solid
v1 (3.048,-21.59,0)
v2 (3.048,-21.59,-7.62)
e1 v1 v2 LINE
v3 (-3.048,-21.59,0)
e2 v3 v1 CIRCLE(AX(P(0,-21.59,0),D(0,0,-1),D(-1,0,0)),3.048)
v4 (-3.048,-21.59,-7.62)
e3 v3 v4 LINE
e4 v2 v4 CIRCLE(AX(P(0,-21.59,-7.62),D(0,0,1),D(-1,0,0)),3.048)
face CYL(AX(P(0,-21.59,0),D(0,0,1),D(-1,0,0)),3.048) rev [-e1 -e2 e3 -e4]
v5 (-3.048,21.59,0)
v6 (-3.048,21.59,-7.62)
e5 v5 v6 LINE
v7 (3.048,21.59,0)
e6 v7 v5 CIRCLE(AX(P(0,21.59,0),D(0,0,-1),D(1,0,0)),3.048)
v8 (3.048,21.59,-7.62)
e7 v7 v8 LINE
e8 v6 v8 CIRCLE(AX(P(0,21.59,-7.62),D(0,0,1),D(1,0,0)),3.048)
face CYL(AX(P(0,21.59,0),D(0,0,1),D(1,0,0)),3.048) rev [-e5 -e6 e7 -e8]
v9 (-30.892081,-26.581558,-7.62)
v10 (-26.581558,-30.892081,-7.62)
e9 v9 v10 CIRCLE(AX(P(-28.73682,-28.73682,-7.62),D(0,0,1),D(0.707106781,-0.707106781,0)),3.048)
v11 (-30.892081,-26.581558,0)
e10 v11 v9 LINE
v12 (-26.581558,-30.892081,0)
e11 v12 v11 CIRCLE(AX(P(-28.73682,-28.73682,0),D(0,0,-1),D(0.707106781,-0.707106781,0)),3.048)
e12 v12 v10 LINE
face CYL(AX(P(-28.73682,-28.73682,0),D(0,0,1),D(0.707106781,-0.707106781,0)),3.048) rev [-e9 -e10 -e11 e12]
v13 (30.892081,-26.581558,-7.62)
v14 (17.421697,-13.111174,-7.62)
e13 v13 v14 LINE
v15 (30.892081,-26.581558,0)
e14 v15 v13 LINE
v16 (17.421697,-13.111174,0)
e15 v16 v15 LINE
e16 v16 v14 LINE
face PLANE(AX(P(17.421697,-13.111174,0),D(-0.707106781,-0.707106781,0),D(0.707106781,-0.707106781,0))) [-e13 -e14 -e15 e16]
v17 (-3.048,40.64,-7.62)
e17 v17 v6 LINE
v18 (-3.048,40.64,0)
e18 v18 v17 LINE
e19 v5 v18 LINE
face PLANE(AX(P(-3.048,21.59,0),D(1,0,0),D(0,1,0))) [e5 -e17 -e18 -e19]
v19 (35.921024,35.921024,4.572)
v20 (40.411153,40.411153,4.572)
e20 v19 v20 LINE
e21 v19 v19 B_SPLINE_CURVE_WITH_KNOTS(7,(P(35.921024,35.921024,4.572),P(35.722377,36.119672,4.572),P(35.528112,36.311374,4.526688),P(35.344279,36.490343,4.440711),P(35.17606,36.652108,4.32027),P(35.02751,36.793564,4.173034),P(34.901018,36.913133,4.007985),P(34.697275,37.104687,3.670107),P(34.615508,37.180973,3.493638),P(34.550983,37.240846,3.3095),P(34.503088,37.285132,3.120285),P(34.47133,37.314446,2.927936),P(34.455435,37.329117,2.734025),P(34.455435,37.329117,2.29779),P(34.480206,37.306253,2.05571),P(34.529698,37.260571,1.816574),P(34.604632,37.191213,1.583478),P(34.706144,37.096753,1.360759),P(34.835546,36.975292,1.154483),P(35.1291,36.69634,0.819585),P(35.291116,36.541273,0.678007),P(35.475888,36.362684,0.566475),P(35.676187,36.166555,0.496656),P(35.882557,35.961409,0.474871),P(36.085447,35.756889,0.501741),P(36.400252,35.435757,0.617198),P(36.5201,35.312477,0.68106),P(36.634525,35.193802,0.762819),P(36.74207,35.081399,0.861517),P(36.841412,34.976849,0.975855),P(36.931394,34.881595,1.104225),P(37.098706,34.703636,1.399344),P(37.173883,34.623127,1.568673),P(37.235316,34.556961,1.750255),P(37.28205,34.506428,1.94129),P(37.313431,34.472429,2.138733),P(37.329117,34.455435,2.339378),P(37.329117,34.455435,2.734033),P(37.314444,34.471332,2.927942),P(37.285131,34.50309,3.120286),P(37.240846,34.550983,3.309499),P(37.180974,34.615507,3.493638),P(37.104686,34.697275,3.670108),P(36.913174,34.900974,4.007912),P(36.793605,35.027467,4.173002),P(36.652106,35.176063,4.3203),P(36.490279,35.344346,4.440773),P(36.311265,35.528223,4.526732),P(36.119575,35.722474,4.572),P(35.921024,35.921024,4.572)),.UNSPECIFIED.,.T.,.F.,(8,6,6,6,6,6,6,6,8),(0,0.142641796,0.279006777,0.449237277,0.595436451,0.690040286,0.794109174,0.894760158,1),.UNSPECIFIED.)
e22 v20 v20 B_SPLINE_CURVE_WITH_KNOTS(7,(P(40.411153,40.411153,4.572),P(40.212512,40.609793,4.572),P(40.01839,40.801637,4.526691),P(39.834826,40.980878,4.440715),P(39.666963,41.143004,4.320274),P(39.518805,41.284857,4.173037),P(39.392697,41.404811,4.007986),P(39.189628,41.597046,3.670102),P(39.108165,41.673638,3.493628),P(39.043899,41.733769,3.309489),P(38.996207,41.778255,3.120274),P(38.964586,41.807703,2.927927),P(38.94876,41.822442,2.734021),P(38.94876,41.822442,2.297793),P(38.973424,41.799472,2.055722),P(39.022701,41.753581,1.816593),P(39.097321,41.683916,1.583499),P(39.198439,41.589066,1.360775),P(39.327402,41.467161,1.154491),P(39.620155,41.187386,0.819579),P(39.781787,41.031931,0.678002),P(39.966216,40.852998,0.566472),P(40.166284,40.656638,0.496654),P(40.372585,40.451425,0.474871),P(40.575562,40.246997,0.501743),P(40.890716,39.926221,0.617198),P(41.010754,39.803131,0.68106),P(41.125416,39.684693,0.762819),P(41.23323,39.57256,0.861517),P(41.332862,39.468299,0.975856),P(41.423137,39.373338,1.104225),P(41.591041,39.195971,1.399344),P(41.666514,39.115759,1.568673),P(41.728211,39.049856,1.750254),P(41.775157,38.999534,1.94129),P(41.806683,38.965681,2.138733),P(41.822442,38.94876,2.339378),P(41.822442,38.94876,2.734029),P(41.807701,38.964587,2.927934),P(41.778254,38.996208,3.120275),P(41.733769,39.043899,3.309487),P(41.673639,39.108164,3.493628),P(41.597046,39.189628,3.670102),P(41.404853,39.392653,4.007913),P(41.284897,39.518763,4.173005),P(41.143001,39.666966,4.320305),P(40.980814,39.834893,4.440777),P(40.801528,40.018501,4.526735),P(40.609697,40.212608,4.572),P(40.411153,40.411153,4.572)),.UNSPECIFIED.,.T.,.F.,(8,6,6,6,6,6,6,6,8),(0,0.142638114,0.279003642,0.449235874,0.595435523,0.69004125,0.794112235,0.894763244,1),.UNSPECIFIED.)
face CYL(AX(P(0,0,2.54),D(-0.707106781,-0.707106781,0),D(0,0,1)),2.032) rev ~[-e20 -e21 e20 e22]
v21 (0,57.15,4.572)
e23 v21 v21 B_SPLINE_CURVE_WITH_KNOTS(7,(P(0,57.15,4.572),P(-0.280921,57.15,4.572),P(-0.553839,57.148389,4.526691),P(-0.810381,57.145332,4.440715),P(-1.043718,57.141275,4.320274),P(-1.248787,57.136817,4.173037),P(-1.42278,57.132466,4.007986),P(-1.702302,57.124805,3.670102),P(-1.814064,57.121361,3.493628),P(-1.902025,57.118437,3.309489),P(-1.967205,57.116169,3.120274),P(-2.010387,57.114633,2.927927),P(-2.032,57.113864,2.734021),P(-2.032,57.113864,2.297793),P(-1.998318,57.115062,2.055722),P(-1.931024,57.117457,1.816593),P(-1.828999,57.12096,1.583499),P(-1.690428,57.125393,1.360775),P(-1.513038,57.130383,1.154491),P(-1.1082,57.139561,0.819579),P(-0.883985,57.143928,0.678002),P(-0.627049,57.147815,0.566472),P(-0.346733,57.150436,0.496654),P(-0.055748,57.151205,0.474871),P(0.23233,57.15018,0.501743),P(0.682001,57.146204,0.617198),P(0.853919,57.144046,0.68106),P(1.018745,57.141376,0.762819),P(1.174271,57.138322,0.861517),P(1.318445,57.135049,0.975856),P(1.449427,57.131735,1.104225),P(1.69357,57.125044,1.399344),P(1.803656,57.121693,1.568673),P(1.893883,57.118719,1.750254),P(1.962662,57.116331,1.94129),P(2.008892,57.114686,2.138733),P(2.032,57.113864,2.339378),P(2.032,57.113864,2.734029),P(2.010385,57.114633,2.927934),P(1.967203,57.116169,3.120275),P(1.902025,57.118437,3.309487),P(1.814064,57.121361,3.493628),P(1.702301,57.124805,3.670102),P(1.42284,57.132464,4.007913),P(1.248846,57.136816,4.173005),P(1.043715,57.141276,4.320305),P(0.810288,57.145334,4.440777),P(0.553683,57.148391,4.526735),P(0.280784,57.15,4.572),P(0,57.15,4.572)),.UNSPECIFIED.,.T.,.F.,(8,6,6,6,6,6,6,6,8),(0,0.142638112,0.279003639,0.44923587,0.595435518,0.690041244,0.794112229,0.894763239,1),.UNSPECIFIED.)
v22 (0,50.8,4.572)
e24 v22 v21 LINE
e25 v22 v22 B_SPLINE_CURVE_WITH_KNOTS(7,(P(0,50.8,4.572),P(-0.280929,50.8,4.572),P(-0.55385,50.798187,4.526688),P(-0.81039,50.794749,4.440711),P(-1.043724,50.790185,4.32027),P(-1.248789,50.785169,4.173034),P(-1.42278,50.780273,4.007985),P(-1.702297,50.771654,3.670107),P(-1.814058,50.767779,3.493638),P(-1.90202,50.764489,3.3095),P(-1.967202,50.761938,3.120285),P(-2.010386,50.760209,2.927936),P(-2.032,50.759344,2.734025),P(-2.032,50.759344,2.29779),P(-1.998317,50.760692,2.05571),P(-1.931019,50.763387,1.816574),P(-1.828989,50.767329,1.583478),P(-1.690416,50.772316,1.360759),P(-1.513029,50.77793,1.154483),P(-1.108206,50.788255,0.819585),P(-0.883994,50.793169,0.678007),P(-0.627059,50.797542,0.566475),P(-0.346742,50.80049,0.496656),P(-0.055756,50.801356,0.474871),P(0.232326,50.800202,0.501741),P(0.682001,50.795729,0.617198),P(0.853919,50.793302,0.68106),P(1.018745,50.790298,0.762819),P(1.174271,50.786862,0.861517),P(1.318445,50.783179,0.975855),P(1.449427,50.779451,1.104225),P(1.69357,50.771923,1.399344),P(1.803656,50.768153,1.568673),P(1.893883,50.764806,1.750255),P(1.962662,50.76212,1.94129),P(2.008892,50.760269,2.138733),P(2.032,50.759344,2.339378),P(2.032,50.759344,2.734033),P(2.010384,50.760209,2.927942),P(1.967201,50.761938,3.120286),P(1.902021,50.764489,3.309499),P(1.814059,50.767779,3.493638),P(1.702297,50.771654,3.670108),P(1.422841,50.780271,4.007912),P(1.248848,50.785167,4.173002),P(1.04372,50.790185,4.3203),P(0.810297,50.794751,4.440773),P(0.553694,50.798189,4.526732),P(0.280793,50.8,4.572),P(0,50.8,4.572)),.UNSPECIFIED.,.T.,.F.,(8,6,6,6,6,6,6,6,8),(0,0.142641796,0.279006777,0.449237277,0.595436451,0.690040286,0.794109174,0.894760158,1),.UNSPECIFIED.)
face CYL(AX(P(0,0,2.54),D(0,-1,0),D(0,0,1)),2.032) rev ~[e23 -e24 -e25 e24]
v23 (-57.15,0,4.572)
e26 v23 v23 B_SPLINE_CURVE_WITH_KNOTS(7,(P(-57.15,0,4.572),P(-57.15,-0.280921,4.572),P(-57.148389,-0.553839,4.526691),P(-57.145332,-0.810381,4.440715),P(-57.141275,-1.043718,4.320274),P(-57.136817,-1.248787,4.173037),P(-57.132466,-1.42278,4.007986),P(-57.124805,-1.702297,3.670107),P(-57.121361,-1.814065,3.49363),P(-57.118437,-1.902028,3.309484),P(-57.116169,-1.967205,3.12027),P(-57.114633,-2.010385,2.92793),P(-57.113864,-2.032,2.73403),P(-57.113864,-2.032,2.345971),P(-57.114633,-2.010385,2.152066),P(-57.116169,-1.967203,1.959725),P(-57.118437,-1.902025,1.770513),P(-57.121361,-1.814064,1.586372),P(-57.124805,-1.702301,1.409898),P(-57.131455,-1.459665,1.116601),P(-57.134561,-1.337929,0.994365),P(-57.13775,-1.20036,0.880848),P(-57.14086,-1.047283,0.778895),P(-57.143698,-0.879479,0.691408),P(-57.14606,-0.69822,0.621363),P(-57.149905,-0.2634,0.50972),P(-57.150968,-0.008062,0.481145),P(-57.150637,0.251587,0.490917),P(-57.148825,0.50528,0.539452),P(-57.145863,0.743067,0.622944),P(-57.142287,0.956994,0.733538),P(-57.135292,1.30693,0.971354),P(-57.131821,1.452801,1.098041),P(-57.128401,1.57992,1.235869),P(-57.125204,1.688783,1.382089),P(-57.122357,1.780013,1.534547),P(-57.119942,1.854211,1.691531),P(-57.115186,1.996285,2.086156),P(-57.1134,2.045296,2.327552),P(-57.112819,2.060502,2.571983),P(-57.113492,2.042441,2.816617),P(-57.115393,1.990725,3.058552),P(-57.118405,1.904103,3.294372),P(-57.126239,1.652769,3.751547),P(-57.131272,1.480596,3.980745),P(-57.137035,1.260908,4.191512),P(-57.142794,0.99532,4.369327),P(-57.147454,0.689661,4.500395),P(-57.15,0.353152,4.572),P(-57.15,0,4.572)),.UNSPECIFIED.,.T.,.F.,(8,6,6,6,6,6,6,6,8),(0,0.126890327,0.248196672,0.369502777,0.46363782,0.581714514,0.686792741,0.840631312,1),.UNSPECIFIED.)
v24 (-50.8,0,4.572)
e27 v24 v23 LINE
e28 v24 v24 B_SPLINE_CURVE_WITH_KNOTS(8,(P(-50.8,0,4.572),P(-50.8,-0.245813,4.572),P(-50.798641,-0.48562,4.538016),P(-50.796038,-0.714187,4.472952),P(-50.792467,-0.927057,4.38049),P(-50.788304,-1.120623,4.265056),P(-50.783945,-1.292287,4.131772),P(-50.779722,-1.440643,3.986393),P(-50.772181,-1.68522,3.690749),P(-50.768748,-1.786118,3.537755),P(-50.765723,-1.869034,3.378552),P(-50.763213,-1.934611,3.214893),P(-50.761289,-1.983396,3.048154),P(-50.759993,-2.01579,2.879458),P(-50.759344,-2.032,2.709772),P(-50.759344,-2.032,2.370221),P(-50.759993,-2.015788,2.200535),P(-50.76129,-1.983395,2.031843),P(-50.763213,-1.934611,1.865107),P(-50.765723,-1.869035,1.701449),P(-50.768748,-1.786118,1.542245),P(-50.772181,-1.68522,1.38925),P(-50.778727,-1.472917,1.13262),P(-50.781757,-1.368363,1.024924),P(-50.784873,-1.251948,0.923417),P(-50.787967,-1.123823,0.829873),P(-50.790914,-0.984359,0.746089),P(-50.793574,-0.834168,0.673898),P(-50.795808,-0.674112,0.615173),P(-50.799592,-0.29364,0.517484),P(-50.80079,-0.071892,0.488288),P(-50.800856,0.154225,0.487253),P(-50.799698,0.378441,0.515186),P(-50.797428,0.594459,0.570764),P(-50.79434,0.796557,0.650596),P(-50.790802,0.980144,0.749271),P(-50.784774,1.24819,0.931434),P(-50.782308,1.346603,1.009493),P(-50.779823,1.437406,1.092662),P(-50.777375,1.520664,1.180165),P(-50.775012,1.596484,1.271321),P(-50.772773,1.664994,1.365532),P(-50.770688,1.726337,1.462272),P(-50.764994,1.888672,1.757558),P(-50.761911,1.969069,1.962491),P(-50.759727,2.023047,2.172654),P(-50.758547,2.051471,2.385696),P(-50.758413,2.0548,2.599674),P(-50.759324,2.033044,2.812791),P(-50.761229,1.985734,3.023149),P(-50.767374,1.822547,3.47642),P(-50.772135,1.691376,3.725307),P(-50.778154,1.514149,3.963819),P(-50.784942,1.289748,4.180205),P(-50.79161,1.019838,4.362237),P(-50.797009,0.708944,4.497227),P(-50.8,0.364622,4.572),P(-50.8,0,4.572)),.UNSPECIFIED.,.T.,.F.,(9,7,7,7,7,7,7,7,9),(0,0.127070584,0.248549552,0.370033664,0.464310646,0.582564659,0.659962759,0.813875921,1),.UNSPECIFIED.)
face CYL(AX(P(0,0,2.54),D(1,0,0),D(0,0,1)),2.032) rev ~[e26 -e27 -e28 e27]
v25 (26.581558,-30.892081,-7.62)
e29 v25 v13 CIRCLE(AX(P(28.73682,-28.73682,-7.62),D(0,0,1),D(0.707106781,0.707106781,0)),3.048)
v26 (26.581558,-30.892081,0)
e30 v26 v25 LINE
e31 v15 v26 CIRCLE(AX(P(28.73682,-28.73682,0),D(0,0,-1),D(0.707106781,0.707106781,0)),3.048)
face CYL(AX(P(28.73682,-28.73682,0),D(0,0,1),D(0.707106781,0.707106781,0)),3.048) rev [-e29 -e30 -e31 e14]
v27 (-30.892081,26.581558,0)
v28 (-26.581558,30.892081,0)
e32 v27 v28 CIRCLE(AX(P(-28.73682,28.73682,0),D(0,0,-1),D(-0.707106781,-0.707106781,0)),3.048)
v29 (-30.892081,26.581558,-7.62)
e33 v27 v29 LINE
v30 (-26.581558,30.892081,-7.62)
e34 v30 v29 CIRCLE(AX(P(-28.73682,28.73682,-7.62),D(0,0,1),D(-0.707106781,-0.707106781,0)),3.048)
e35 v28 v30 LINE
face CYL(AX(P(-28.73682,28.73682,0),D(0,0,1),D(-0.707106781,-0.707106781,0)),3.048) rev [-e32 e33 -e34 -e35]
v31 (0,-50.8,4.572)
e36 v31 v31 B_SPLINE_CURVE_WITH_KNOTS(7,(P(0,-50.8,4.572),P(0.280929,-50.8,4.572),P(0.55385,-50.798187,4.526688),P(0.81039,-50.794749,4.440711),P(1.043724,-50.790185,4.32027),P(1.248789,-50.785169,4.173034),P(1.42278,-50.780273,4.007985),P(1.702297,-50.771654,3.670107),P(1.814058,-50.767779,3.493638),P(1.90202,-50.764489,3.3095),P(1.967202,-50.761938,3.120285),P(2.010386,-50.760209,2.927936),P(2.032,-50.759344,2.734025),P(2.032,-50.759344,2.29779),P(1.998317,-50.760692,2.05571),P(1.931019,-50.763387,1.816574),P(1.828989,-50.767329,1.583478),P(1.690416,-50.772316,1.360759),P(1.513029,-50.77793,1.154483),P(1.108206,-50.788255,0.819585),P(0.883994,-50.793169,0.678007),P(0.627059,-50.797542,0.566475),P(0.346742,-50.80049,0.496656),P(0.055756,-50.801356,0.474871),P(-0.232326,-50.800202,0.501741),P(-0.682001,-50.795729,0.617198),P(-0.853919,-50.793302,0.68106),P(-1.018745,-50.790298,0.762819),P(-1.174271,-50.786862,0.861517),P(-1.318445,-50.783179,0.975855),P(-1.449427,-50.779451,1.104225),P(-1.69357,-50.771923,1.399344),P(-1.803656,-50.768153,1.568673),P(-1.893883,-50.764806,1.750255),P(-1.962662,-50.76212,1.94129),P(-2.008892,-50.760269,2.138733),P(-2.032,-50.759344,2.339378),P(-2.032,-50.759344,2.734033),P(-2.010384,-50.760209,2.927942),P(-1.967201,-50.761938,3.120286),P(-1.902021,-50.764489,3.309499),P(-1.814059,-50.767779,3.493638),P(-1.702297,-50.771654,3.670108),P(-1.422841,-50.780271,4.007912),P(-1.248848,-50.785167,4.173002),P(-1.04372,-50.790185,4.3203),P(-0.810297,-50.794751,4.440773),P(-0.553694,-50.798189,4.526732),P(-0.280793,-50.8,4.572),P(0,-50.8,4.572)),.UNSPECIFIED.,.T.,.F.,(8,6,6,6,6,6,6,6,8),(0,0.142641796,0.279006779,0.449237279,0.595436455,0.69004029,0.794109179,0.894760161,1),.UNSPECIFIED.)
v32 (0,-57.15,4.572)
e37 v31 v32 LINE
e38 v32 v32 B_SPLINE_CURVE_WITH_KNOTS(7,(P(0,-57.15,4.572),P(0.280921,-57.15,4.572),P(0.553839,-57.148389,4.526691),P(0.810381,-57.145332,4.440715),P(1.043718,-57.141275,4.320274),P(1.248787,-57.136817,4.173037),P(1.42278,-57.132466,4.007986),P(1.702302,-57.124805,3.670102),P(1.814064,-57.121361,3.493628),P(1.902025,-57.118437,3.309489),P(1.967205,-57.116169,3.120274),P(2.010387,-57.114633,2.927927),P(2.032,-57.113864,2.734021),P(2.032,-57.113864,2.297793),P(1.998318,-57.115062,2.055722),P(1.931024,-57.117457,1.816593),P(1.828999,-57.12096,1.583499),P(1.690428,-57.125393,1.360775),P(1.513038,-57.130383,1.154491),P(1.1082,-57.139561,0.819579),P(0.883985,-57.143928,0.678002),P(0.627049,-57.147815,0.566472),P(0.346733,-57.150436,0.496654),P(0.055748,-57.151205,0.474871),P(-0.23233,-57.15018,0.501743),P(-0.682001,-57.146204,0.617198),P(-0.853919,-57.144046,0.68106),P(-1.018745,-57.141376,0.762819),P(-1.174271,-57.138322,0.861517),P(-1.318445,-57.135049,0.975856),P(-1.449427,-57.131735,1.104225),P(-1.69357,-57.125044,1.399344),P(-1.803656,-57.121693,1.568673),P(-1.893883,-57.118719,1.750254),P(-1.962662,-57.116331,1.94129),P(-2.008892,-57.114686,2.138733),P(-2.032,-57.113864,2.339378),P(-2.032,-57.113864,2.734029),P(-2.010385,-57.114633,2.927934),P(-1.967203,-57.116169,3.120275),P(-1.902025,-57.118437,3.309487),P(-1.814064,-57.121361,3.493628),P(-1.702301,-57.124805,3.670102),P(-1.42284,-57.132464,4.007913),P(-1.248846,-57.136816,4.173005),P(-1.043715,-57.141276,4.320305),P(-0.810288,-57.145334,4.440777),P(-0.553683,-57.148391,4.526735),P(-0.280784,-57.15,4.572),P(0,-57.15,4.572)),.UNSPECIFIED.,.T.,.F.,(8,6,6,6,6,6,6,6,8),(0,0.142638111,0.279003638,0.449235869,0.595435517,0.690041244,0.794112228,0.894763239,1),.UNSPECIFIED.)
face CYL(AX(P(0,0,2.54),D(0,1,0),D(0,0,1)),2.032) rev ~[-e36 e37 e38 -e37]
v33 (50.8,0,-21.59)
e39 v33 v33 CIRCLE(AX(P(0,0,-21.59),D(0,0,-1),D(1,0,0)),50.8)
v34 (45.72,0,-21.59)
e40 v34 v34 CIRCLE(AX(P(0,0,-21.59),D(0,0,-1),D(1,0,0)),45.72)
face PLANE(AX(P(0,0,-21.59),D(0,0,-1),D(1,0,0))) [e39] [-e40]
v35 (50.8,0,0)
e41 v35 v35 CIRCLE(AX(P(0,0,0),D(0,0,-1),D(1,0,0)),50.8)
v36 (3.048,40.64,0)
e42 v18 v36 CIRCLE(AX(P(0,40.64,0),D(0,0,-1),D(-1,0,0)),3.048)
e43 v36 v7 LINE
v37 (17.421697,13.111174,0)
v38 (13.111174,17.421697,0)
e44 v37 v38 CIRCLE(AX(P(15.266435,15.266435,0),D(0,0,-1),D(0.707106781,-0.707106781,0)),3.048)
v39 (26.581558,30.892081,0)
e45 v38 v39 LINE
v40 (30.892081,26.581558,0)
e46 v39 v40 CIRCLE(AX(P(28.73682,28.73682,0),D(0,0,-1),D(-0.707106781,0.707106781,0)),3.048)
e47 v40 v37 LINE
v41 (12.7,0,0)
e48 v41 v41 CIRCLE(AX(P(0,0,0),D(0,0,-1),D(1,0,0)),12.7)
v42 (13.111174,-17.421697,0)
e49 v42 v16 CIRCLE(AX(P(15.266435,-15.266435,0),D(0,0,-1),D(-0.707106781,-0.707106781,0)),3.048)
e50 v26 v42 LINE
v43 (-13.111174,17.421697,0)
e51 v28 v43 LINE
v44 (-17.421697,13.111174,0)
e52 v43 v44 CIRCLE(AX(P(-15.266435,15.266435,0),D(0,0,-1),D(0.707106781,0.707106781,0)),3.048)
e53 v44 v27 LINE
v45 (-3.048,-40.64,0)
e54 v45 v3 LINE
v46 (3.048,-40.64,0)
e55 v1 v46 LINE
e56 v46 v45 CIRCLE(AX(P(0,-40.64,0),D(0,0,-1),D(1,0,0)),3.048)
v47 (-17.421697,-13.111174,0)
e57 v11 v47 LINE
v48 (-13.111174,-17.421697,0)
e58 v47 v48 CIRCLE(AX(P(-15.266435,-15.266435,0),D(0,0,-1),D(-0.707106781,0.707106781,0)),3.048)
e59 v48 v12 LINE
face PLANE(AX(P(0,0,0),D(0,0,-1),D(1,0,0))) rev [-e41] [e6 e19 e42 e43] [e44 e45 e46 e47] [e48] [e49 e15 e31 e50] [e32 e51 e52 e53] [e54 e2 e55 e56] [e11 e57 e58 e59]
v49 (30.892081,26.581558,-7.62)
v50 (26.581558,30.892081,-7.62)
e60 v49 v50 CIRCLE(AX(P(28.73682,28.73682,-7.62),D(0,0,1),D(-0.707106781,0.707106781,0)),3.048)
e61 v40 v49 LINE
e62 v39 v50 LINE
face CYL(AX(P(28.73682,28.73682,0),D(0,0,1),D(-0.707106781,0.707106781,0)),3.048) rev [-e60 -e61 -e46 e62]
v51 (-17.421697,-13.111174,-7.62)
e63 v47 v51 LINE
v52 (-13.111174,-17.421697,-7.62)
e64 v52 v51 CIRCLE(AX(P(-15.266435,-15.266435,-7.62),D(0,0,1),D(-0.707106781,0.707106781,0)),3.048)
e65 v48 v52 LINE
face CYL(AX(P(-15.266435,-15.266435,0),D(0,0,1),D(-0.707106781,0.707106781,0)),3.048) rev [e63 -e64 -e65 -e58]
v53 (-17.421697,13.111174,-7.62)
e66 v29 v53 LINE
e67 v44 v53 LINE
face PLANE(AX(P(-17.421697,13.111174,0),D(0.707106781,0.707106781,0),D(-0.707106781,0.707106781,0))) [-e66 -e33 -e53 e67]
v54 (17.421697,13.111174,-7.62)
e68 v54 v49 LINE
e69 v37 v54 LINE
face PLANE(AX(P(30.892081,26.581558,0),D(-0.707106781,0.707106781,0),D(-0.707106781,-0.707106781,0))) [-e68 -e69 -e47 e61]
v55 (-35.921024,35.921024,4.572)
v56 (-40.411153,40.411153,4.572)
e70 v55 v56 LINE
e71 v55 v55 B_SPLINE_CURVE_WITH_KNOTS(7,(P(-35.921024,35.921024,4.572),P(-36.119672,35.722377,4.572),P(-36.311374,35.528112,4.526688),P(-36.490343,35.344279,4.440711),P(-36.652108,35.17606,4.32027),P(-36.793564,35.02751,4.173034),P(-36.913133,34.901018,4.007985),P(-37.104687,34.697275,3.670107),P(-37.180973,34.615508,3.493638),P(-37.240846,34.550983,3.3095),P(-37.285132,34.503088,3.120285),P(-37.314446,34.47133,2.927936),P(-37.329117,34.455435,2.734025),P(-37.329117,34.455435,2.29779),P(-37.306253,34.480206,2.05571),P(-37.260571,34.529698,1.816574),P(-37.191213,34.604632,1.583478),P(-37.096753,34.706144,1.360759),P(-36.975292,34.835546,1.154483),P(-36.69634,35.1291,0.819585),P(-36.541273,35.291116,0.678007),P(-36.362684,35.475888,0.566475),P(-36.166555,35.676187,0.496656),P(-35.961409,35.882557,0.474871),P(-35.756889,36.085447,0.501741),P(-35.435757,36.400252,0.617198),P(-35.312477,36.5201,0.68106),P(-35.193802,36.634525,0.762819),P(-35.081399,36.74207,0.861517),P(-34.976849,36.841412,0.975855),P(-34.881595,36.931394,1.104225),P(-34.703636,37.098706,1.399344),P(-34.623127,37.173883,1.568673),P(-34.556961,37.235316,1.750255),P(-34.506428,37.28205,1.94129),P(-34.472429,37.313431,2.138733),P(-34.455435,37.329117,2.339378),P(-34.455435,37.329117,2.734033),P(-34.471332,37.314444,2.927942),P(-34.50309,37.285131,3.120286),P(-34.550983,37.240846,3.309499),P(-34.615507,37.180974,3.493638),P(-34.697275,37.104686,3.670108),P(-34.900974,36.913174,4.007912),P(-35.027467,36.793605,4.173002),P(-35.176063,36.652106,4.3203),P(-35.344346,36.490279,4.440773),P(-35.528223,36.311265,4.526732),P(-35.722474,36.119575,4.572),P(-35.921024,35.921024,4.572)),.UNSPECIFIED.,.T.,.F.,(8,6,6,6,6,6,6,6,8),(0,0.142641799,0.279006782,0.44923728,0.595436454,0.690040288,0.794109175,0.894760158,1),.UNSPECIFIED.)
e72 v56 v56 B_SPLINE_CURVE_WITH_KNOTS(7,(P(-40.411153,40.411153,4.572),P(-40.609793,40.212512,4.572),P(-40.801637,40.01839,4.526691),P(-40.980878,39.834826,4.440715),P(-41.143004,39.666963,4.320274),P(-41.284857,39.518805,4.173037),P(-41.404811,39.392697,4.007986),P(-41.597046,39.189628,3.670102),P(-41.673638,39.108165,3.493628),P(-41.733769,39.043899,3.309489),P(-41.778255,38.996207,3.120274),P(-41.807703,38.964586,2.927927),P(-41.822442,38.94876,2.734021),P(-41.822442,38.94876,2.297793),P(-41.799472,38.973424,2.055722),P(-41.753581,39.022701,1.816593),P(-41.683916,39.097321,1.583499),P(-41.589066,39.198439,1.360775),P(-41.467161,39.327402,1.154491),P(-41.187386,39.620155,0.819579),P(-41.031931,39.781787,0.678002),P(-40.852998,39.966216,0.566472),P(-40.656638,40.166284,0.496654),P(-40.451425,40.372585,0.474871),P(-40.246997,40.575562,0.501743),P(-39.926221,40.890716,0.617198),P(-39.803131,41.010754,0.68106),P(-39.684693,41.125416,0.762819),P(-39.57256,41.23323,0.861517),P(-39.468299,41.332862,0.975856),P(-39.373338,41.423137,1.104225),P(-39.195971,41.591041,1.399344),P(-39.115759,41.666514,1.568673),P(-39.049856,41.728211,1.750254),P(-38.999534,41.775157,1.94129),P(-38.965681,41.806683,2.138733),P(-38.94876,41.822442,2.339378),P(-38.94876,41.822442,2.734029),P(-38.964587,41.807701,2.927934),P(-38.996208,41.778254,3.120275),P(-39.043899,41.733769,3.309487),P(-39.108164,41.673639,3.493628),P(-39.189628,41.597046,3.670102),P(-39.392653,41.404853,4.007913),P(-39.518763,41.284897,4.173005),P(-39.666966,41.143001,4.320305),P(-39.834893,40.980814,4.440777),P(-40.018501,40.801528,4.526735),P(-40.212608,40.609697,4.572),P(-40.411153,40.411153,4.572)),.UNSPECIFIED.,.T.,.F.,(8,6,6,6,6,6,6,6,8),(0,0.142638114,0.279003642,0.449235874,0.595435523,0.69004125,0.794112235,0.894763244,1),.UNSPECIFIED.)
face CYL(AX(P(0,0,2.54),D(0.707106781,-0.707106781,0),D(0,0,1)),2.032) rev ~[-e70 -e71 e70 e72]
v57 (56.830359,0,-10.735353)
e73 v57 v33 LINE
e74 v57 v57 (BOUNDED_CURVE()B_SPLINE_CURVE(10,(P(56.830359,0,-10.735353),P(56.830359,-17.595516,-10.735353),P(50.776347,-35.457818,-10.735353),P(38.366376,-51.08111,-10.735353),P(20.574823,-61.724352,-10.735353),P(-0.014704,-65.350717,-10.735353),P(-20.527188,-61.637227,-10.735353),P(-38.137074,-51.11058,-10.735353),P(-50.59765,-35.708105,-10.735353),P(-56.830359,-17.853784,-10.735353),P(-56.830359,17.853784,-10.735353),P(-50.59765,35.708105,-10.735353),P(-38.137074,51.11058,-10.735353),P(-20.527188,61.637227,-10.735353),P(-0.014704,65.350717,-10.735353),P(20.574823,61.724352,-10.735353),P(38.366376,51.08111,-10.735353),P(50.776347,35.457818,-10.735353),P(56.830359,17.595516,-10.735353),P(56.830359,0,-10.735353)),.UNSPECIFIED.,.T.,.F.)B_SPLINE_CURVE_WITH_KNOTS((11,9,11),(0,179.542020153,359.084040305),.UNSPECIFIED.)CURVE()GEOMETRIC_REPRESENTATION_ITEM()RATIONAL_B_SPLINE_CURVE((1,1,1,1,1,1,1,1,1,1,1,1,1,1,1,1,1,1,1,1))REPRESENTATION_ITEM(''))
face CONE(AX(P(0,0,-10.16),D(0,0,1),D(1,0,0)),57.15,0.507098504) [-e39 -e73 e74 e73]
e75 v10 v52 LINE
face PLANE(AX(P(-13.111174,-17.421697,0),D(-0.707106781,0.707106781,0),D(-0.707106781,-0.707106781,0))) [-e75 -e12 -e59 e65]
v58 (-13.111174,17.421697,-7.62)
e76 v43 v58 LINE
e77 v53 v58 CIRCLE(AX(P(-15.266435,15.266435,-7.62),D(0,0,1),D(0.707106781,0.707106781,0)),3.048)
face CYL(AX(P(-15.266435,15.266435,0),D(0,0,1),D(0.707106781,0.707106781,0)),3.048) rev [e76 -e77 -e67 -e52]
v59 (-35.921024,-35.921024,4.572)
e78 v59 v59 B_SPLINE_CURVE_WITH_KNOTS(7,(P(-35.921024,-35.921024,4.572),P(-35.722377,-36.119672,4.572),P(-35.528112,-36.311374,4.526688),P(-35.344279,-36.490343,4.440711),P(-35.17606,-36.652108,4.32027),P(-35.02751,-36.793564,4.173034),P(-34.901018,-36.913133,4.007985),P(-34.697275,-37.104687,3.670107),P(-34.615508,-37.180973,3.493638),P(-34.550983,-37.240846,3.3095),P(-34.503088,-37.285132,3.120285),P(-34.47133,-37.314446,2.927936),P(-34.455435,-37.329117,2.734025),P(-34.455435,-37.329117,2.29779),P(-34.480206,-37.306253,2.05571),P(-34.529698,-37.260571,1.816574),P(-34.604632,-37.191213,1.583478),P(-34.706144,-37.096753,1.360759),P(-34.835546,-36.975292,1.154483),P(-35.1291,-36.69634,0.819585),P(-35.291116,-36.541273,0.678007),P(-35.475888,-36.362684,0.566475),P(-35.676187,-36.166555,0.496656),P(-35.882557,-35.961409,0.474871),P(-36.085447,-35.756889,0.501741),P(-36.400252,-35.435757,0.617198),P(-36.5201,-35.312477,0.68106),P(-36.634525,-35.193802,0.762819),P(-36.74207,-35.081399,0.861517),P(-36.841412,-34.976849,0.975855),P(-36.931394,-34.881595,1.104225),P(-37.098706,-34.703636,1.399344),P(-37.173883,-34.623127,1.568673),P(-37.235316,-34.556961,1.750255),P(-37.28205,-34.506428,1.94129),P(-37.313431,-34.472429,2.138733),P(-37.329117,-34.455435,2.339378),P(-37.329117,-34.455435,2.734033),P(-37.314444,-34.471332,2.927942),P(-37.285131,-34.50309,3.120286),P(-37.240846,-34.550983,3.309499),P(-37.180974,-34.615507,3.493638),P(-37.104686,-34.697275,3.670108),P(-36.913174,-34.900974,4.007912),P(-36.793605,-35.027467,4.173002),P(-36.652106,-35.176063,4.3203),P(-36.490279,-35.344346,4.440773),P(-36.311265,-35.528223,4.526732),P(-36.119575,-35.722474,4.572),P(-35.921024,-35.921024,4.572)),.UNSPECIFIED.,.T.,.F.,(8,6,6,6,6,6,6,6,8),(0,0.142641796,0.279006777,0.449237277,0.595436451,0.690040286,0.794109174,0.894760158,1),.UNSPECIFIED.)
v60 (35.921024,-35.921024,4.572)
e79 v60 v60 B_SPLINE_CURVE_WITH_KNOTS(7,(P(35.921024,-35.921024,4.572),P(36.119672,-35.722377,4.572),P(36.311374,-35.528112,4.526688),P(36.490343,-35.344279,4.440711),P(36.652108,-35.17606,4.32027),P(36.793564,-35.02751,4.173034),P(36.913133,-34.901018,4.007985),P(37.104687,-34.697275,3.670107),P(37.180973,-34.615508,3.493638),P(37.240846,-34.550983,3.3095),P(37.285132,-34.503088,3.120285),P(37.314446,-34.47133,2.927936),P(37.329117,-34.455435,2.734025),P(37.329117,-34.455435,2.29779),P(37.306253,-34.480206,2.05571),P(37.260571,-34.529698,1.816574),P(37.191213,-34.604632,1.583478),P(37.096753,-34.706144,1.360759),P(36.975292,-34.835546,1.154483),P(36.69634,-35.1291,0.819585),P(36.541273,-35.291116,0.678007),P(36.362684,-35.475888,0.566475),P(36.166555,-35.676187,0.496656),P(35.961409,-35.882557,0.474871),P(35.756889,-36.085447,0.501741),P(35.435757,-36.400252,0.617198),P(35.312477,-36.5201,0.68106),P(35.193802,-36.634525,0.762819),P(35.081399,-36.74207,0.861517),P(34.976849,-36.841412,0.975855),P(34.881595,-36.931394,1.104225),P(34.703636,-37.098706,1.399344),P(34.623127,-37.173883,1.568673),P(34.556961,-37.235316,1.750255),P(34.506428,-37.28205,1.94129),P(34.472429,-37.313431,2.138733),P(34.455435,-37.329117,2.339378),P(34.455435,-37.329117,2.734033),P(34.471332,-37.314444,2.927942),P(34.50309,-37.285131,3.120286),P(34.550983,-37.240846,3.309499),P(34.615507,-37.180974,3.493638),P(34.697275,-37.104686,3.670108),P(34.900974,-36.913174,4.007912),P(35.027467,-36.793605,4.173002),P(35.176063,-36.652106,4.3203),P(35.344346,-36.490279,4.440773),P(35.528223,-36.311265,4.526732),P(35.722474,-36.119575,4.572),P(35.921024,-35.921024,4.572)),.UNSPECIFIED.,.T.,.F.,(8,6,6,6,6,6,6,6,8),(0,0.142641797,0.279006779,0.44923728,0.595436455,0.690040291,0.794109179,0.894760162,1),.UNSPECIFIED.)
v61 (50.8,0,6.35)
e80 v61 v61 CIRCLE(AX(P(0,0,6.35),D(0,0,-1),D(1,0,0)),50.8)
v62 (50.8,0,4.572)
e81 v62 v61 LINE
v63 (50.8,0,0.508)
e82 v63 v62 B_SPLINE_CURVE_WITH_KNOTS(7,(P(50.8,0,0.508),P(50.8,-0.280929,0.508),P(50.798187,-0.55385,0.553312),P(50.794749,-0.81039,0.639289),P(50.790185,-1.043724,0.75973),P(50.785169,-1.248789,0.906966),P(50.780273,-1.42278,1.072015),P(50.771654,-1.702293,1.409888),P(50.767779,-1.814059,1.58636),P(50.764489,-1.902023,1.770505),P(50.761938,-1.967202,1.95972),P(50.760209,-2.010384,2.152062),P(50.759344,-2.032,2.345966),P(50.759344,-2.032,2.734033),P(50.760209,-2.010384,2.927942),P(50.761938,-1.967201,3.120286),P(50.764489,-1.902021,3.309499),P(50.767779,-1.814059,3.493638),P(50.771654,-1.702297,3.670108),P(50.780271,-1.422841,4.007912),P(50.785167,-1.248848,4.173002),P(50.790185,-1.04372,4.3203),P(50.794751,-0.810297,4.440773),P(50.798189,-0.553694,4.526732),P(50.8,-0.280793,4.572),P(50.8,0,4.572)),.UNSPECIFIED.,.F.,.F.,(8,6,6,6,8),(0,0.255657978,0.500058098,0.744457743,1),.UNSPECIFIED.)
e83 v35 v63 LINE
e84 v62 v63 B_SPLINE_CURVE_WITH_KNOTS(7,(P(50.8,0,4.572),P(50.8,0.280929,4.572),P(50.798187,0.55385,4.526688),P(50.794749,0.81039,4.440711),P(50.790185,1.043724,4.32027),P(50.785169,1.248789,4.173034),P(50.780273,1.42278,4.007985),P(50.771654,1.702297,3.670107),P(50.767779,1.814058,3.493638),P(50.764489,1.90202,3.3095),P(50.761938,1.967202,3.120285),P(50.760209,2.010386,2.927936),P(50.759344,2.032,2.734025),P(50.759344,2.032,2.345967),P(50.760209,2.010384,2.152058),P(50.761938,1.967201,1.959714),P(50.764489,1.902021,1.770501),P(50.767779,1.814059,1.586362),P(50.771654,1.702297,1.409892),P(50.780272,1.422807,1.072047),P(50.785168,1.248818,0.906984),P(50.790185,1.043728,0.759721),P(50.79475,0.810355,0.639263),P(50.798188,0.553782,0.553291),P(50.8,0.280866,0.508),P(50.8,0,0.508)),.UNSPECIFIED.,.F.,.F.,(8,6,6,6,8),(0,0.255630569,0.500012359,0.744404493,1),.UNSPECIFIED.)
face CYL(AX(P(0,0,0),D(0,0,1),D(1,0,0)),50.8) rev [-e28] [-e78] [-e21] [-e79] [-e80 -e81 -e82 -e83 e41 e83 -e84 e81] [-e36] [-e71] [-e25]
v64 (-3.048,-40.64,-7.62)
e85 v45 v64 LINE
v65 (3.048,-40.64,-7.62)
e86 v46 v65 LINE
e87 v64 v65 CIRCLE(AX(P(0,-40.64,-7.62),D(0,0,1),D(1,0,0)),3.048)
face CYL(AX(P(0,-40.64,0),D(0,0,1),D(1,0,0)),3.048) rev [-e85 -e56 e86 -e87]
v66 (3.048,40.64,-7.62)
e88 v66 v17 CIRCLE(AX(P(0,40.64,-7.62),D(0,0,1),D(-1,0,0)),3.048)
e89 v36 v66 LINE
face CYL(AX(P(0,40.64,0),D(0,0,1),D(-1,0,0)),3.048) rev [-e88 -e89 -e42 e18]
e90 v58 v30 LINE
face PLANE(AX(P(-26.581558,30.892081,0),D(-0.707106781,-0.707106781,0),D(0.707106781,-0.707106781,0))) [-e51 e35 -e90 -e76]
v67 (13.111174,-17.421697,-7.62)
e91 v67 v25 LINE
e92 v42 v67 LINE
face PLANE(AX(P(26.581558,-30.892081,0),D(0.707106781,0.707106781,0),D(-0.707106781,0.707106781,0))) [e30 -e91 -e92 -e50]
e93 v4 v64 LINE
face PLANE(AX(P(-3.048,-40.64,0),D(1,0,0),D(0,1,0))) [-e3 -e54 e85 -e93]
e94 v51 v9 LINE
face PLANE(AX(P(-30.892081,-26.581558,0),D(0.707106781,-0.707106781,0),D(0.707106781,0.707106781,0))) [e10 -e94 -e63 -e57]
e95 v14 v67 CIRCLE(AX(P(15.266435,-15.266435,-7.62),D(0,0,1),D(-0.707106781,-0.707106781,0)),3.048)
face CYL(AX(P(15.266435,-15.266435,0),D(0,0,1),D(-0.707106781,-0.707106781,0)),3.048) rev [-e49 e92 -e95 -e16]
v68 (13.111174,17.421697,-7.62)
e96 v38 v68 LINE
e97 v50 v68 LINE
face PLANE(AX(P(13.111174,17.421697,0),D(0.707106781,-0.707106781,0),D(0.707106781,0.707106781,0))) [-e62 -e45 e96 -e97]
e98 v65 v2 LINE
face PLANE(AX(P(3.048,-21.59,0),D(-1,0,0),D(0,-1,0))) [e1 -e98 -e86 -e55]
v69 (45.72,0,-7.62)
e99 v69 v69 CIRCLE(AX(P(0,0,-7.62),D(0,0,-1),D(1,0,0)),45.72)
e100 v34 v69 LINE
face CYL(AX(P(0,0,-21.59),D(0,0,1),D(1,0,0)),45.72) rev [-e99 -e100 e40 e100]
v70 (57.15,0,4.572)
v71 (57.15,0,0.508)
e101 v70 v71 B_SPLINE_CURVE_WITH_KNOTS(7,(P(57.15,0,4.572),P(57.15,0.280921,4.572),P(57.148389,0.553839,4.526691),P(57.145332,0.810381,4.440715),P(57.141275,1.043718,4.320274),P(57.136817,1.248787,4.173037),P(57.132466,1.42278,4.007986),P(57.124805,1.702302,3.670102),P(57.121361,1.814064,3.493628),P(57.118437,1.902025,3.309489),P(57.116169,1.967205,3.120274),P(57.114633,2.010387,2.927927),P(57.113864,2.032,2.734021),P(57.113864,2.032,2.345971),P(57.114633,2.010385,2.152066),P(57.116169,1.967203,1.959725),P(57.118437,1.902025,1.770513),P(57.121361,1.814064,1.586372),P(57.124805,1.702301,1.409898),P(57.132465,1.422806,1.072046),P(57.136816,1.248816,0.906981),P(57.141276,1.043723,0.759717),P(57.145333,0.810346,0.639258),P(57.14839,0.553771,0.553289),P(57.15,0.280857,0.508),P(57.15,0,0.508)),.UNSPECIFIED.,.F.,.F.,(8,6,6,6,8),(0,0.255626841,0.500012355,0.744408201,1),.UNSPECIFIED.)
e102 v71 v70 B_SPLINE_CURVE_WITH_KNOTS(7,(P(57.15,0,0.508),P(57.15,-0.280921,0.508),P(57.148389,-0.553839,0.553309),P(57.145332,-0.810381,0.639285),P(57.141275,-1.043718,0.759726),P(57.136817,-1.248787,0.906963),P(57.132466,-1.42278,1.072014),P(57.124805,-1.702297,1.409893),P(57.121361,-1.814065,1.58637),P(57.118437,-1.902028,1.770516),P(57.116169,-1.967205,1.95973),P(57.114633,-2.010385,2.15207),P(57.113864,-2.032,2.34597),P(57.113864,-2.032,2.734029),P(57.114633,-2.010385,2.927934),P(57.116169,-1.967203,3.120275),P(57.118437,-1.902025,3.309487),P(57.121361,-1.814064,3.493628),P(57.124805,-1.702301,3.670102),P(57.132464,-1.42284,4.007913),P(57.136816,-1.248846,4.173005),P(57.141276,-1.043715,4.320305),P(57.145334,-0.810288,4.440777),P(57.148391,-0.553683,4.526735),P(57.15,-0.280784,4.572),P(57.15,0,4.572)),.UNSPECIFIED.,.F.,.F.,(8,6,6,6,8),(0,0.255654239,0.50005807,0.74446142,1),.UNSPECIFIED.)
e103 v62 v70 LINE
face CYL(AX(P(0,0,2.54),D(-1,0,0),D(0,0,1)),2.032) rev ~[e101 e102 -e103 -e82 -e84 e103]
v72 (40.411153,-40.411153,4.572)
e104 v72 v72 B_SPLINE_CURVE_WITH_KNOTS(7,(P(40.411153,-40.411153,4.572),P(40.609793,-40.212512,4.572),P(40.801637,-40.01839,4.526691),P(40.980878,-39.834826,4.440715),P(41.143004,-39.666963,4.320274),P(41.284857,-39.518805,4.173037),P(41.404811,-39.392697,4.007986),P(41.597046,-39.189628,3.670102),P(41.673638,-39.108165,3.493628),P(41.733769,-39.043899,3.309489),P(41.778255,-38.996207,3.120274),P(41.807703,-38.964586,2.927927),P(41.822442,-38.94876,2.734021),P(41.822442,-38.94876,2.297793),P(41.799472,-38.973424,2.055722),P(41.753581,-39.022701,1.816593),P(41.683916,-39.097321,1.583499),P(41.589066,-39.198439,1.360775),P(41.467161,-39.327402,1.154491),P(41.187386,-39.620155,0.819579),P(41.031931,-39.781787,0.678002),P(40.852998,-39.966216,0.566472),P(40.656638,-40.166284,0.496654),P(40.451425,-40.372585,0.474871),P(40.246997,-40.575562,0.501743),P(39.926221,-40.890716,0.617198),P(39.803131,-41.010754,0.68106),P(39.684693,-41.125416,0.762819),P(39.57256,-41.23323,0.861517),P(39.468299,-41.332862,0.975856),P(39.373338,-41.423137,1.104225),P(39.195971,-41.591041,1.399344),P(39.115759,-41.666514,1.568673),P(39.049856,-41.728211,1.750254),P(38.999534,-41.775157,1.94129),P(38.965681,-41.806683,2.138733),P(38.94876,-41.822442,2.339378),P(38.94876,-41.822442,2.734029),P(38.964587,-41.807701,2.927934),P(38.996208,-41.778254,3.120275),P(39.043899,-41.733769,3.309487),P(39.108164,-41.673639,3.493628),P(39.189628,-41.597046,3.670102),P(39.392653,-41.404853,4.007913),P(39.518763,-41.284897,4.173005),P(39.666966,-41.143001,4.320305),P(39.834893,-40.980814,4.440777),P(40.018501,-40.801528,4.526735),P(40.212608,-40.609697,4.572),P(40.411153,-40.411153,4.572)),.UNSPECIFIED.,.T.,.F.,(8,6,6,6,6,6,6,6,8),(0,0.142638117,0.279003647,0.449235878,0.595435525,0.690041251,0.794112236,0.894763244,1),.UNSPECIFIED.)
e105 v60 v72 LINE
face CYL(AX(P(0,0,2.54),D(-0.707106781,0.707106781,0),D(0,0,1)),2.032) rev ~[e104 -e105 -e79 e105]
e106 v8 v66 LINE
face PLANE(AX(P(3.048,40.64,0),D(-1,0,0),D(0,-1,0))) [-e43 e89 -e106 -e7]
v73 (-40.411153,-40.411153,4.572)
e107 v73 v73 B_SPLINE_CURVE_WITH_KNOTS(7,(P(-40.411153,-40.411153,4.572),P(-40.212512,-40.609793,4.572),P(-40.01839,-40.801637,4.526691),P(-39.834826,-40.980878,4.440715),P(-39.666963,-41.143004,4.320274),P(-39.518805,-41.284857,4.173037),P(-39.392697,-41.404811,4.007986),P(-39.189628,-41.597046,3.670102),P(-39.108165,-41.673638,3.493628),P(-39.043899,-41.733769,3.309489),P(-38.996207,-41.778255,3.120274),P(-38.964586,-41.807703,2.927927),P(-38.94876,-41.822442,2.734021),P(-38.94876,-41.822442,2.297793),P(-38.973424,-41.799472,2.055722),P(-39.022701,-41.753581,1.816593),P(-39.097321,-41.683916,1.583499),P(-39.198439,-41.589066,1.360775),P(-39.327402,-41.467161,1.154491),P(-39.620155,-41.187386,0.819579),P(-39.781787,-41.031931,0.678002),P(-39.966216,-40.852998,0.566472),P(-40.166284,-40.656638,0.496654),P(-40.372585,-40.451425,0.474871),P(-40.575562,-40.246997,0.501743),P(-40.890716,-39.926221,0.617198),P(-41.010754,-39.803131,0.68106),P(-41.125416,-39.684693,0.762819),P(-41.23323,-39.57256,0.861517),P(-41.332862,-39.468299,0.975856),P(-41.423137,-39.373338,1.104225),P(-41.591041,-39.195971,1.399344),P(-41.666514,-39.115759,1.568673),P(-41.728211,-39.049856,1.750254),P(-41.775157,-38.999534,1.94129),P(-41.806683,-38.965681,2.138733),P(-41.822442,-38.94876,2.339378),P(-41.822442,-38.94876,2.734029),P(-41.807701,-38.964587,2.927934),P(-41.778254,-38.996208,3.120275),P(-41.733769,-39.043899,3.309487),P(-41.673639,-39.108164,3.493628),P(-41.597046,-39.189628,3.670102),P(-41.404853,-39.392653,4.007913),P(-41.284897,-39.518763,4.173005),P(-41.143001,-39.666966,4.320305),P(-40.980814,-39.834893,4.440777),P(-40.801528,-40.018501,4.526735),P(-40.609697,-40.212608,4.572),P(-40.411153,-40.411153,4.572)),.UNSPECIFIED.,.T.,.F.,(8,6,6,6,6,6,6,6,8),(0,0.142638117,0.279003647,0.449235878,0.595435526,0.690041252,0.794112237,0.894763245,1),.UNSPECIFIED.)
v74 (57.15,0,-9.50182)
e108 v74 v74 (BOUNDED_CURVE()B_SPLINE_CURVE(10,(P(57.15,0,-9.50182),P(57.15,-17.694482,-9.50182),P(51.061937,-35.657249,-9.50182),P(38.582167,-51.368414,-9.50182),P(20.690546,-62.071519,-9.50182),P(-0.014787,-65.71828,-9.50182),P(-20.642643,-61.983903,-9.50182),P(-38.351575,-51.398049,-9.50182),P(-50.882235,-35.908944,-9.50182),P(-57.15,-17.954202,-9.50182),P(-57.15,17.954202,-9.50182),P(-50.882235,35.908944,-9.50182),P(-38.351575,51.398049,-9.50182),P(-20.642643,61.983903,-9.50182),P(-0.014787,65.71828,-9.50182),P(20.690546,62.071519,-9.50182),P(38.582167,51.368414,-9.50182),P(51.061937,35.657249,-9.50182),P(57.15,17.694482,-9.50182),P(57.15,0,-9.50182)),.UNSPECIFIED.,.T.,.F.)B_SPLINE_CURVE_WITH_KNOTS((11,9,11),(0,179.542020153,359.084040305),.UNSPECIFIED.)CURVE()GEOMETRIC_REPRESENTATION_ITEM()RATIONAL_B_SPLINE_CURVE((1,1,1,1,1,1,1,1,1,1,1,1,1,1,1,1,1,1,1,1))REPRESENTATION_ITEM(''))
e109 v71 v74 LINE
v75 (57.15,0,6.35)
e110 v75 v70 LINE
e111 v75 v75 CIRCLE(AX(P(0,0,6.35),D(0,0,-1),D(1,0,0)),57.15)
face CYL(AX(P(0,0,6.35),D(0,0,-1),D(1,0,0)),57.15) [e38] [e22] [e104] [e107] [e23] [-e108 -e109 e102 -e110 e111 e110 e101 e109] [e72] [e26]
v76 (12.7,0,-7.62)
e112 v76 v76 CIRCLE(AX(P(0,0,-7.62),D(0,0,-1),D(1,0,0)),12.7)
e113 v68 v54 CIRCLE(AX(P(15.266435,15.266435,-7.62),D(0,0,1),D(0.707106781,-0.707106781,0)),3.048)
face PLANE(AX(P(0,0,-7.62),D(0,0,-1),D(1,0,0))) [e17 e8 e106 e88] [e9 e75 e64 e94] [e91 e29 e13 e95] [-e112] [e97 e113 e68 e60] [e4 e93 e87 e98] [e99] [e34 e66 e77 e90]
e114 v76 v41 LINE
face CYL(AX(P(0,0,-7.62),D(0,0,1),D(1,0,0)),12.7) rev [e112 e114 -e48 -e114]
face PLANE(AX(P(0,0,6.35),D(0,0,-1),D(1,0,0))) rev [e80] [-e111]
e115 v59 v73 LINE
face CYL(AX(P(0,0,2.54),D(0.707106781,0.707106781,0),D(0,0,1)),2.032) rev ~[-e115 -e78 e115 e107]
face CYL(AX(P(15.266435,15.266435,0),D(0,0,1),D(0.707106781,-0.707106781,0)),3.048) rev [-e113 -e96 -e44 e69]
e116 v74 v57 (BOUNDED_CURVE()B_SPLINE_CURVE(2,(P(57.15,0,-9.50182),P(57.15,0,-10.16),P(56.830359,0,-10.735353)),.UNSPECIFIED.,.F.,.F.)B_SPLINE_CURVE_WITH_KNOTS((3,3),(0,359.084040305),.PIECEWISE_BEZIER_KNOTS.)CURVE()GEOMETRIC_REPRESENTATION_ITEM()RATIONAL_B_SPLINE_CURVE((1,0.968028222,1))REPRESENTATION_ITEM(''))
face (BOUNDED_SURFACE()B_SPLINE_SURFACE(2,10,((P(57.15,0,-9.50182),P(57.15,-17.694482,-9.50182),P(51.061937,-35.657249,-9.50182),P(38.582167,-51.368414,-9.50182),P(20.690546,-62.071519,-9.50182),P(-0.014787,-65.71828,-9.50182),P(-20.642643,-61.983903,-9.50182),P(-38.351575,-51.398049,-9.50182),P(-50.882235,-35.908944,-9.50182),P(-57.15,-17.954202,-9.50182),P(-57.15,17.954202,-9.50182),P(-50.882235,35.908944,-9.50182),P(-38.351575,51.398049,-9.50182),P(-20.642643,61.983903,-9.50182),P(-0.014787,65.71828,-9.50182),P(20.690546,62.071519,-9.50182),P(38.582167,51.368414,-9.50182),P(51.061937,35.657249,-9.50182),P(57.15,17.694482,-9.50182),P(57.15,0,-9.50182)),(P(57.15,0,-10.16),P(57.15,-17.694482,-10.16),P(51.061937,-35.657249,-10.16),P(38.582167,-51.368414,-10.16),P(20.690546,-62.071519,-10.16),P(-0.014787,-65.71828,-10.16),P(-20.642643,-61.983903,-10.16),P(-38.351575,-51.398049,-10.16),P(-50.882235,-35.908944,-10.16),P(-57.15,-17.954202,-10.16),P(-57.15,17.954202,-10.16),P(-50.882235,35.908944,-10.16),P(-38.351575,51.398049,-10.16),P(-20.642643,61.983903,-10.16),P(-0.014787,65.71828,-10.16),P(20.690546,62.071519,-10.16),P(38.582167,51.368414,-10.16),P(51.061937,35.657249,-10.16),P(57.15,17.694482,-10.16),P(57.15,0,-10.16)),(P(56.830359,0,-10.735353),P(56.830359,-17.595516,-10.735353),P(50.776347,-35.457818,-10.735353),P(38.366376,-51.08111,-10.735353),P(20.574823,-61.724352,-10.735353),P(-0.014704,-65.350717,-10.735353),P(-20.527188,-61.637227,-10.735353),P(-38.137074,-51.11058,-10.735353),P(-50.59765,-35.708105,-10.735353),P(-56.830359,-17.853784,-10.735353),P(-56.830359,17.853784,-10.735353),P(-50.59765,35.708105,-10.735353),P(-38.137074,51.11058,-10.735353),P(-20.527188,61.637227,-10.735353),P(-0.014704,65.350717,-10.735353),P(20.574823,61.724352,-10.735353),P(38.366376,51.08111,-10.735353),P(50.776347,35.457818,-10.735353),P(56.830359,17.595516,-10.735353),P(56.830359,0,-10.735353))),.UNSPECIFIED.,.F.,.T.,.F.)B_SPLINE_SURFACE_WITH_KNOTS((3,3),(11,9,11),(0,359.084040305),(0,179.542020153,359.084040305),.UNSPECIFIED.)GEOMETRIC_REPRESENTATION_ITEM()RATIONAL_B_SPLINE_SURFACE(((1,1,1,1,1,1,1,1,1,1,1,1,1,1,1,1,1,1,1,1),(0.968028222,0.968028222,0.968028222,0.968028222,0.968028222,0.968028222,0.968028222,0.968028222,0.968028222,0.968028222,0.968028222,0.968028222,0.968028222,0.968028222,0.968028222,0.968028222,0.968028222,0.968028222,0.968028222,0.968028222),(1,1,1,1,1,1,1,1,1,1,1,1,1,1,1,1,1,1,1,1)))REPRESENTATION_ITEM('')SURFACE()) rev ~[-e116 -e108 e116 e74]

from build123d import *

# Parameters (mm, degrees)
CUT_EXTRUDE1_DEPTH = 84.656279501
CIRPATTERN1_COUNT  = 8
SKETCH3_R          = 2.032
CUT_EXTRUDE2_DEPTH = 84.656279501
CIRPATTERN2_COUNT  = 8
FILLET1_R          = 2.54


with BuildPart() as part:
    # Sketch1 → Revolve1 (revolve)
    with BuildSketch(Plane(origin=(0, 0, 0), x_dir=(0, 0, -1), z_dir=(1, 0, 0)), mode=Mode.PRIVATE) as revolve1_sk:
        Polygon((0, 12.7), (0, 50.8), (-6.35, 50.8), (-6.35, 57.15), (10.16, 57.15), (21.59, 50.8), (21.59, 45.72), (7.62, 45.72), (7.62, 12.7), align=None)
    revolve(revolve1_sk.sketch.rotate(Axis((0, 0, 0), (0, 0, -1)), 90), axis=Axis((0, 0, 0), (0, 0, -1)))

    # Sketch2 → Cut-Extrude1 (cut, through all)
    with BuildSketch(Plane.XY):
        with BuildLine():
            Line((-3.048, 21.59), (-3.048, 40.64))
            ThreePointArc((-3.048, 40.64), (0, 43.688), (3.048, 40.64))
            Line((3.048, 40.64), (3.048, 21.59))
            ThreePointArc((3.048, 21.59), (0, 18.542), (-3.048, 21.59))
        make_face()
    cut_extrude1 = extrude(amount=-CUT_EXTRUDE1_DEPTH, mode=Mode.SUBTRACT)

    # CirPattern1: Cut-Extrude1 ×8 about axis, 2 skipped
    cirpattern1_axis = Axis((0, 0, 0), (0, 0, -1))
    add([cut_extrude1.rotate(cirpattern1_axis, i * 360 / CIRPATTERN1_COUNT) for i in range(1, CIRPATTERN1_COUNT) if i not in (2, 6)], mode=Mode.SUBTRACT)

    # Sketch3 → Cut-Extrude2 (cut, through all)
    with BuildSketch(Plane(origin=(0, 0, 0), x_dir=(1, 0, 0), z_dir=(0, 1, 0))):
        with Locations(Location((0, -2.54, 0), (0, 0, 270))):
            Circle(SKETCH3_R)
    cut_extrude2 = extrude(amount=-CUT_EXTRUDE2_DEPTH, mode=Mode.SUBTRACT)

    # CirPattern2: Cut-Extrude2 ×8 about axis
    cirpattern2_axis = Axis((0, 0, 0), (0, 0, 1))
    for i in range(1, CIRPATTERN2_COUNT):
        add(cut_extrude2.rotate(cirpattern2_axis, i * 360 / CIRPATTERN2_COUNT), mode=Mode.SUBTRACT)

    # Fillet1
    fillet1_edges = [part.edges().sort_by_distance(p)[0] for p in [
        (-57.15, 0, -10.16),
    ]]
    fillet(fillet1_edges, radius=FILLET1_R)


solid = part.part
